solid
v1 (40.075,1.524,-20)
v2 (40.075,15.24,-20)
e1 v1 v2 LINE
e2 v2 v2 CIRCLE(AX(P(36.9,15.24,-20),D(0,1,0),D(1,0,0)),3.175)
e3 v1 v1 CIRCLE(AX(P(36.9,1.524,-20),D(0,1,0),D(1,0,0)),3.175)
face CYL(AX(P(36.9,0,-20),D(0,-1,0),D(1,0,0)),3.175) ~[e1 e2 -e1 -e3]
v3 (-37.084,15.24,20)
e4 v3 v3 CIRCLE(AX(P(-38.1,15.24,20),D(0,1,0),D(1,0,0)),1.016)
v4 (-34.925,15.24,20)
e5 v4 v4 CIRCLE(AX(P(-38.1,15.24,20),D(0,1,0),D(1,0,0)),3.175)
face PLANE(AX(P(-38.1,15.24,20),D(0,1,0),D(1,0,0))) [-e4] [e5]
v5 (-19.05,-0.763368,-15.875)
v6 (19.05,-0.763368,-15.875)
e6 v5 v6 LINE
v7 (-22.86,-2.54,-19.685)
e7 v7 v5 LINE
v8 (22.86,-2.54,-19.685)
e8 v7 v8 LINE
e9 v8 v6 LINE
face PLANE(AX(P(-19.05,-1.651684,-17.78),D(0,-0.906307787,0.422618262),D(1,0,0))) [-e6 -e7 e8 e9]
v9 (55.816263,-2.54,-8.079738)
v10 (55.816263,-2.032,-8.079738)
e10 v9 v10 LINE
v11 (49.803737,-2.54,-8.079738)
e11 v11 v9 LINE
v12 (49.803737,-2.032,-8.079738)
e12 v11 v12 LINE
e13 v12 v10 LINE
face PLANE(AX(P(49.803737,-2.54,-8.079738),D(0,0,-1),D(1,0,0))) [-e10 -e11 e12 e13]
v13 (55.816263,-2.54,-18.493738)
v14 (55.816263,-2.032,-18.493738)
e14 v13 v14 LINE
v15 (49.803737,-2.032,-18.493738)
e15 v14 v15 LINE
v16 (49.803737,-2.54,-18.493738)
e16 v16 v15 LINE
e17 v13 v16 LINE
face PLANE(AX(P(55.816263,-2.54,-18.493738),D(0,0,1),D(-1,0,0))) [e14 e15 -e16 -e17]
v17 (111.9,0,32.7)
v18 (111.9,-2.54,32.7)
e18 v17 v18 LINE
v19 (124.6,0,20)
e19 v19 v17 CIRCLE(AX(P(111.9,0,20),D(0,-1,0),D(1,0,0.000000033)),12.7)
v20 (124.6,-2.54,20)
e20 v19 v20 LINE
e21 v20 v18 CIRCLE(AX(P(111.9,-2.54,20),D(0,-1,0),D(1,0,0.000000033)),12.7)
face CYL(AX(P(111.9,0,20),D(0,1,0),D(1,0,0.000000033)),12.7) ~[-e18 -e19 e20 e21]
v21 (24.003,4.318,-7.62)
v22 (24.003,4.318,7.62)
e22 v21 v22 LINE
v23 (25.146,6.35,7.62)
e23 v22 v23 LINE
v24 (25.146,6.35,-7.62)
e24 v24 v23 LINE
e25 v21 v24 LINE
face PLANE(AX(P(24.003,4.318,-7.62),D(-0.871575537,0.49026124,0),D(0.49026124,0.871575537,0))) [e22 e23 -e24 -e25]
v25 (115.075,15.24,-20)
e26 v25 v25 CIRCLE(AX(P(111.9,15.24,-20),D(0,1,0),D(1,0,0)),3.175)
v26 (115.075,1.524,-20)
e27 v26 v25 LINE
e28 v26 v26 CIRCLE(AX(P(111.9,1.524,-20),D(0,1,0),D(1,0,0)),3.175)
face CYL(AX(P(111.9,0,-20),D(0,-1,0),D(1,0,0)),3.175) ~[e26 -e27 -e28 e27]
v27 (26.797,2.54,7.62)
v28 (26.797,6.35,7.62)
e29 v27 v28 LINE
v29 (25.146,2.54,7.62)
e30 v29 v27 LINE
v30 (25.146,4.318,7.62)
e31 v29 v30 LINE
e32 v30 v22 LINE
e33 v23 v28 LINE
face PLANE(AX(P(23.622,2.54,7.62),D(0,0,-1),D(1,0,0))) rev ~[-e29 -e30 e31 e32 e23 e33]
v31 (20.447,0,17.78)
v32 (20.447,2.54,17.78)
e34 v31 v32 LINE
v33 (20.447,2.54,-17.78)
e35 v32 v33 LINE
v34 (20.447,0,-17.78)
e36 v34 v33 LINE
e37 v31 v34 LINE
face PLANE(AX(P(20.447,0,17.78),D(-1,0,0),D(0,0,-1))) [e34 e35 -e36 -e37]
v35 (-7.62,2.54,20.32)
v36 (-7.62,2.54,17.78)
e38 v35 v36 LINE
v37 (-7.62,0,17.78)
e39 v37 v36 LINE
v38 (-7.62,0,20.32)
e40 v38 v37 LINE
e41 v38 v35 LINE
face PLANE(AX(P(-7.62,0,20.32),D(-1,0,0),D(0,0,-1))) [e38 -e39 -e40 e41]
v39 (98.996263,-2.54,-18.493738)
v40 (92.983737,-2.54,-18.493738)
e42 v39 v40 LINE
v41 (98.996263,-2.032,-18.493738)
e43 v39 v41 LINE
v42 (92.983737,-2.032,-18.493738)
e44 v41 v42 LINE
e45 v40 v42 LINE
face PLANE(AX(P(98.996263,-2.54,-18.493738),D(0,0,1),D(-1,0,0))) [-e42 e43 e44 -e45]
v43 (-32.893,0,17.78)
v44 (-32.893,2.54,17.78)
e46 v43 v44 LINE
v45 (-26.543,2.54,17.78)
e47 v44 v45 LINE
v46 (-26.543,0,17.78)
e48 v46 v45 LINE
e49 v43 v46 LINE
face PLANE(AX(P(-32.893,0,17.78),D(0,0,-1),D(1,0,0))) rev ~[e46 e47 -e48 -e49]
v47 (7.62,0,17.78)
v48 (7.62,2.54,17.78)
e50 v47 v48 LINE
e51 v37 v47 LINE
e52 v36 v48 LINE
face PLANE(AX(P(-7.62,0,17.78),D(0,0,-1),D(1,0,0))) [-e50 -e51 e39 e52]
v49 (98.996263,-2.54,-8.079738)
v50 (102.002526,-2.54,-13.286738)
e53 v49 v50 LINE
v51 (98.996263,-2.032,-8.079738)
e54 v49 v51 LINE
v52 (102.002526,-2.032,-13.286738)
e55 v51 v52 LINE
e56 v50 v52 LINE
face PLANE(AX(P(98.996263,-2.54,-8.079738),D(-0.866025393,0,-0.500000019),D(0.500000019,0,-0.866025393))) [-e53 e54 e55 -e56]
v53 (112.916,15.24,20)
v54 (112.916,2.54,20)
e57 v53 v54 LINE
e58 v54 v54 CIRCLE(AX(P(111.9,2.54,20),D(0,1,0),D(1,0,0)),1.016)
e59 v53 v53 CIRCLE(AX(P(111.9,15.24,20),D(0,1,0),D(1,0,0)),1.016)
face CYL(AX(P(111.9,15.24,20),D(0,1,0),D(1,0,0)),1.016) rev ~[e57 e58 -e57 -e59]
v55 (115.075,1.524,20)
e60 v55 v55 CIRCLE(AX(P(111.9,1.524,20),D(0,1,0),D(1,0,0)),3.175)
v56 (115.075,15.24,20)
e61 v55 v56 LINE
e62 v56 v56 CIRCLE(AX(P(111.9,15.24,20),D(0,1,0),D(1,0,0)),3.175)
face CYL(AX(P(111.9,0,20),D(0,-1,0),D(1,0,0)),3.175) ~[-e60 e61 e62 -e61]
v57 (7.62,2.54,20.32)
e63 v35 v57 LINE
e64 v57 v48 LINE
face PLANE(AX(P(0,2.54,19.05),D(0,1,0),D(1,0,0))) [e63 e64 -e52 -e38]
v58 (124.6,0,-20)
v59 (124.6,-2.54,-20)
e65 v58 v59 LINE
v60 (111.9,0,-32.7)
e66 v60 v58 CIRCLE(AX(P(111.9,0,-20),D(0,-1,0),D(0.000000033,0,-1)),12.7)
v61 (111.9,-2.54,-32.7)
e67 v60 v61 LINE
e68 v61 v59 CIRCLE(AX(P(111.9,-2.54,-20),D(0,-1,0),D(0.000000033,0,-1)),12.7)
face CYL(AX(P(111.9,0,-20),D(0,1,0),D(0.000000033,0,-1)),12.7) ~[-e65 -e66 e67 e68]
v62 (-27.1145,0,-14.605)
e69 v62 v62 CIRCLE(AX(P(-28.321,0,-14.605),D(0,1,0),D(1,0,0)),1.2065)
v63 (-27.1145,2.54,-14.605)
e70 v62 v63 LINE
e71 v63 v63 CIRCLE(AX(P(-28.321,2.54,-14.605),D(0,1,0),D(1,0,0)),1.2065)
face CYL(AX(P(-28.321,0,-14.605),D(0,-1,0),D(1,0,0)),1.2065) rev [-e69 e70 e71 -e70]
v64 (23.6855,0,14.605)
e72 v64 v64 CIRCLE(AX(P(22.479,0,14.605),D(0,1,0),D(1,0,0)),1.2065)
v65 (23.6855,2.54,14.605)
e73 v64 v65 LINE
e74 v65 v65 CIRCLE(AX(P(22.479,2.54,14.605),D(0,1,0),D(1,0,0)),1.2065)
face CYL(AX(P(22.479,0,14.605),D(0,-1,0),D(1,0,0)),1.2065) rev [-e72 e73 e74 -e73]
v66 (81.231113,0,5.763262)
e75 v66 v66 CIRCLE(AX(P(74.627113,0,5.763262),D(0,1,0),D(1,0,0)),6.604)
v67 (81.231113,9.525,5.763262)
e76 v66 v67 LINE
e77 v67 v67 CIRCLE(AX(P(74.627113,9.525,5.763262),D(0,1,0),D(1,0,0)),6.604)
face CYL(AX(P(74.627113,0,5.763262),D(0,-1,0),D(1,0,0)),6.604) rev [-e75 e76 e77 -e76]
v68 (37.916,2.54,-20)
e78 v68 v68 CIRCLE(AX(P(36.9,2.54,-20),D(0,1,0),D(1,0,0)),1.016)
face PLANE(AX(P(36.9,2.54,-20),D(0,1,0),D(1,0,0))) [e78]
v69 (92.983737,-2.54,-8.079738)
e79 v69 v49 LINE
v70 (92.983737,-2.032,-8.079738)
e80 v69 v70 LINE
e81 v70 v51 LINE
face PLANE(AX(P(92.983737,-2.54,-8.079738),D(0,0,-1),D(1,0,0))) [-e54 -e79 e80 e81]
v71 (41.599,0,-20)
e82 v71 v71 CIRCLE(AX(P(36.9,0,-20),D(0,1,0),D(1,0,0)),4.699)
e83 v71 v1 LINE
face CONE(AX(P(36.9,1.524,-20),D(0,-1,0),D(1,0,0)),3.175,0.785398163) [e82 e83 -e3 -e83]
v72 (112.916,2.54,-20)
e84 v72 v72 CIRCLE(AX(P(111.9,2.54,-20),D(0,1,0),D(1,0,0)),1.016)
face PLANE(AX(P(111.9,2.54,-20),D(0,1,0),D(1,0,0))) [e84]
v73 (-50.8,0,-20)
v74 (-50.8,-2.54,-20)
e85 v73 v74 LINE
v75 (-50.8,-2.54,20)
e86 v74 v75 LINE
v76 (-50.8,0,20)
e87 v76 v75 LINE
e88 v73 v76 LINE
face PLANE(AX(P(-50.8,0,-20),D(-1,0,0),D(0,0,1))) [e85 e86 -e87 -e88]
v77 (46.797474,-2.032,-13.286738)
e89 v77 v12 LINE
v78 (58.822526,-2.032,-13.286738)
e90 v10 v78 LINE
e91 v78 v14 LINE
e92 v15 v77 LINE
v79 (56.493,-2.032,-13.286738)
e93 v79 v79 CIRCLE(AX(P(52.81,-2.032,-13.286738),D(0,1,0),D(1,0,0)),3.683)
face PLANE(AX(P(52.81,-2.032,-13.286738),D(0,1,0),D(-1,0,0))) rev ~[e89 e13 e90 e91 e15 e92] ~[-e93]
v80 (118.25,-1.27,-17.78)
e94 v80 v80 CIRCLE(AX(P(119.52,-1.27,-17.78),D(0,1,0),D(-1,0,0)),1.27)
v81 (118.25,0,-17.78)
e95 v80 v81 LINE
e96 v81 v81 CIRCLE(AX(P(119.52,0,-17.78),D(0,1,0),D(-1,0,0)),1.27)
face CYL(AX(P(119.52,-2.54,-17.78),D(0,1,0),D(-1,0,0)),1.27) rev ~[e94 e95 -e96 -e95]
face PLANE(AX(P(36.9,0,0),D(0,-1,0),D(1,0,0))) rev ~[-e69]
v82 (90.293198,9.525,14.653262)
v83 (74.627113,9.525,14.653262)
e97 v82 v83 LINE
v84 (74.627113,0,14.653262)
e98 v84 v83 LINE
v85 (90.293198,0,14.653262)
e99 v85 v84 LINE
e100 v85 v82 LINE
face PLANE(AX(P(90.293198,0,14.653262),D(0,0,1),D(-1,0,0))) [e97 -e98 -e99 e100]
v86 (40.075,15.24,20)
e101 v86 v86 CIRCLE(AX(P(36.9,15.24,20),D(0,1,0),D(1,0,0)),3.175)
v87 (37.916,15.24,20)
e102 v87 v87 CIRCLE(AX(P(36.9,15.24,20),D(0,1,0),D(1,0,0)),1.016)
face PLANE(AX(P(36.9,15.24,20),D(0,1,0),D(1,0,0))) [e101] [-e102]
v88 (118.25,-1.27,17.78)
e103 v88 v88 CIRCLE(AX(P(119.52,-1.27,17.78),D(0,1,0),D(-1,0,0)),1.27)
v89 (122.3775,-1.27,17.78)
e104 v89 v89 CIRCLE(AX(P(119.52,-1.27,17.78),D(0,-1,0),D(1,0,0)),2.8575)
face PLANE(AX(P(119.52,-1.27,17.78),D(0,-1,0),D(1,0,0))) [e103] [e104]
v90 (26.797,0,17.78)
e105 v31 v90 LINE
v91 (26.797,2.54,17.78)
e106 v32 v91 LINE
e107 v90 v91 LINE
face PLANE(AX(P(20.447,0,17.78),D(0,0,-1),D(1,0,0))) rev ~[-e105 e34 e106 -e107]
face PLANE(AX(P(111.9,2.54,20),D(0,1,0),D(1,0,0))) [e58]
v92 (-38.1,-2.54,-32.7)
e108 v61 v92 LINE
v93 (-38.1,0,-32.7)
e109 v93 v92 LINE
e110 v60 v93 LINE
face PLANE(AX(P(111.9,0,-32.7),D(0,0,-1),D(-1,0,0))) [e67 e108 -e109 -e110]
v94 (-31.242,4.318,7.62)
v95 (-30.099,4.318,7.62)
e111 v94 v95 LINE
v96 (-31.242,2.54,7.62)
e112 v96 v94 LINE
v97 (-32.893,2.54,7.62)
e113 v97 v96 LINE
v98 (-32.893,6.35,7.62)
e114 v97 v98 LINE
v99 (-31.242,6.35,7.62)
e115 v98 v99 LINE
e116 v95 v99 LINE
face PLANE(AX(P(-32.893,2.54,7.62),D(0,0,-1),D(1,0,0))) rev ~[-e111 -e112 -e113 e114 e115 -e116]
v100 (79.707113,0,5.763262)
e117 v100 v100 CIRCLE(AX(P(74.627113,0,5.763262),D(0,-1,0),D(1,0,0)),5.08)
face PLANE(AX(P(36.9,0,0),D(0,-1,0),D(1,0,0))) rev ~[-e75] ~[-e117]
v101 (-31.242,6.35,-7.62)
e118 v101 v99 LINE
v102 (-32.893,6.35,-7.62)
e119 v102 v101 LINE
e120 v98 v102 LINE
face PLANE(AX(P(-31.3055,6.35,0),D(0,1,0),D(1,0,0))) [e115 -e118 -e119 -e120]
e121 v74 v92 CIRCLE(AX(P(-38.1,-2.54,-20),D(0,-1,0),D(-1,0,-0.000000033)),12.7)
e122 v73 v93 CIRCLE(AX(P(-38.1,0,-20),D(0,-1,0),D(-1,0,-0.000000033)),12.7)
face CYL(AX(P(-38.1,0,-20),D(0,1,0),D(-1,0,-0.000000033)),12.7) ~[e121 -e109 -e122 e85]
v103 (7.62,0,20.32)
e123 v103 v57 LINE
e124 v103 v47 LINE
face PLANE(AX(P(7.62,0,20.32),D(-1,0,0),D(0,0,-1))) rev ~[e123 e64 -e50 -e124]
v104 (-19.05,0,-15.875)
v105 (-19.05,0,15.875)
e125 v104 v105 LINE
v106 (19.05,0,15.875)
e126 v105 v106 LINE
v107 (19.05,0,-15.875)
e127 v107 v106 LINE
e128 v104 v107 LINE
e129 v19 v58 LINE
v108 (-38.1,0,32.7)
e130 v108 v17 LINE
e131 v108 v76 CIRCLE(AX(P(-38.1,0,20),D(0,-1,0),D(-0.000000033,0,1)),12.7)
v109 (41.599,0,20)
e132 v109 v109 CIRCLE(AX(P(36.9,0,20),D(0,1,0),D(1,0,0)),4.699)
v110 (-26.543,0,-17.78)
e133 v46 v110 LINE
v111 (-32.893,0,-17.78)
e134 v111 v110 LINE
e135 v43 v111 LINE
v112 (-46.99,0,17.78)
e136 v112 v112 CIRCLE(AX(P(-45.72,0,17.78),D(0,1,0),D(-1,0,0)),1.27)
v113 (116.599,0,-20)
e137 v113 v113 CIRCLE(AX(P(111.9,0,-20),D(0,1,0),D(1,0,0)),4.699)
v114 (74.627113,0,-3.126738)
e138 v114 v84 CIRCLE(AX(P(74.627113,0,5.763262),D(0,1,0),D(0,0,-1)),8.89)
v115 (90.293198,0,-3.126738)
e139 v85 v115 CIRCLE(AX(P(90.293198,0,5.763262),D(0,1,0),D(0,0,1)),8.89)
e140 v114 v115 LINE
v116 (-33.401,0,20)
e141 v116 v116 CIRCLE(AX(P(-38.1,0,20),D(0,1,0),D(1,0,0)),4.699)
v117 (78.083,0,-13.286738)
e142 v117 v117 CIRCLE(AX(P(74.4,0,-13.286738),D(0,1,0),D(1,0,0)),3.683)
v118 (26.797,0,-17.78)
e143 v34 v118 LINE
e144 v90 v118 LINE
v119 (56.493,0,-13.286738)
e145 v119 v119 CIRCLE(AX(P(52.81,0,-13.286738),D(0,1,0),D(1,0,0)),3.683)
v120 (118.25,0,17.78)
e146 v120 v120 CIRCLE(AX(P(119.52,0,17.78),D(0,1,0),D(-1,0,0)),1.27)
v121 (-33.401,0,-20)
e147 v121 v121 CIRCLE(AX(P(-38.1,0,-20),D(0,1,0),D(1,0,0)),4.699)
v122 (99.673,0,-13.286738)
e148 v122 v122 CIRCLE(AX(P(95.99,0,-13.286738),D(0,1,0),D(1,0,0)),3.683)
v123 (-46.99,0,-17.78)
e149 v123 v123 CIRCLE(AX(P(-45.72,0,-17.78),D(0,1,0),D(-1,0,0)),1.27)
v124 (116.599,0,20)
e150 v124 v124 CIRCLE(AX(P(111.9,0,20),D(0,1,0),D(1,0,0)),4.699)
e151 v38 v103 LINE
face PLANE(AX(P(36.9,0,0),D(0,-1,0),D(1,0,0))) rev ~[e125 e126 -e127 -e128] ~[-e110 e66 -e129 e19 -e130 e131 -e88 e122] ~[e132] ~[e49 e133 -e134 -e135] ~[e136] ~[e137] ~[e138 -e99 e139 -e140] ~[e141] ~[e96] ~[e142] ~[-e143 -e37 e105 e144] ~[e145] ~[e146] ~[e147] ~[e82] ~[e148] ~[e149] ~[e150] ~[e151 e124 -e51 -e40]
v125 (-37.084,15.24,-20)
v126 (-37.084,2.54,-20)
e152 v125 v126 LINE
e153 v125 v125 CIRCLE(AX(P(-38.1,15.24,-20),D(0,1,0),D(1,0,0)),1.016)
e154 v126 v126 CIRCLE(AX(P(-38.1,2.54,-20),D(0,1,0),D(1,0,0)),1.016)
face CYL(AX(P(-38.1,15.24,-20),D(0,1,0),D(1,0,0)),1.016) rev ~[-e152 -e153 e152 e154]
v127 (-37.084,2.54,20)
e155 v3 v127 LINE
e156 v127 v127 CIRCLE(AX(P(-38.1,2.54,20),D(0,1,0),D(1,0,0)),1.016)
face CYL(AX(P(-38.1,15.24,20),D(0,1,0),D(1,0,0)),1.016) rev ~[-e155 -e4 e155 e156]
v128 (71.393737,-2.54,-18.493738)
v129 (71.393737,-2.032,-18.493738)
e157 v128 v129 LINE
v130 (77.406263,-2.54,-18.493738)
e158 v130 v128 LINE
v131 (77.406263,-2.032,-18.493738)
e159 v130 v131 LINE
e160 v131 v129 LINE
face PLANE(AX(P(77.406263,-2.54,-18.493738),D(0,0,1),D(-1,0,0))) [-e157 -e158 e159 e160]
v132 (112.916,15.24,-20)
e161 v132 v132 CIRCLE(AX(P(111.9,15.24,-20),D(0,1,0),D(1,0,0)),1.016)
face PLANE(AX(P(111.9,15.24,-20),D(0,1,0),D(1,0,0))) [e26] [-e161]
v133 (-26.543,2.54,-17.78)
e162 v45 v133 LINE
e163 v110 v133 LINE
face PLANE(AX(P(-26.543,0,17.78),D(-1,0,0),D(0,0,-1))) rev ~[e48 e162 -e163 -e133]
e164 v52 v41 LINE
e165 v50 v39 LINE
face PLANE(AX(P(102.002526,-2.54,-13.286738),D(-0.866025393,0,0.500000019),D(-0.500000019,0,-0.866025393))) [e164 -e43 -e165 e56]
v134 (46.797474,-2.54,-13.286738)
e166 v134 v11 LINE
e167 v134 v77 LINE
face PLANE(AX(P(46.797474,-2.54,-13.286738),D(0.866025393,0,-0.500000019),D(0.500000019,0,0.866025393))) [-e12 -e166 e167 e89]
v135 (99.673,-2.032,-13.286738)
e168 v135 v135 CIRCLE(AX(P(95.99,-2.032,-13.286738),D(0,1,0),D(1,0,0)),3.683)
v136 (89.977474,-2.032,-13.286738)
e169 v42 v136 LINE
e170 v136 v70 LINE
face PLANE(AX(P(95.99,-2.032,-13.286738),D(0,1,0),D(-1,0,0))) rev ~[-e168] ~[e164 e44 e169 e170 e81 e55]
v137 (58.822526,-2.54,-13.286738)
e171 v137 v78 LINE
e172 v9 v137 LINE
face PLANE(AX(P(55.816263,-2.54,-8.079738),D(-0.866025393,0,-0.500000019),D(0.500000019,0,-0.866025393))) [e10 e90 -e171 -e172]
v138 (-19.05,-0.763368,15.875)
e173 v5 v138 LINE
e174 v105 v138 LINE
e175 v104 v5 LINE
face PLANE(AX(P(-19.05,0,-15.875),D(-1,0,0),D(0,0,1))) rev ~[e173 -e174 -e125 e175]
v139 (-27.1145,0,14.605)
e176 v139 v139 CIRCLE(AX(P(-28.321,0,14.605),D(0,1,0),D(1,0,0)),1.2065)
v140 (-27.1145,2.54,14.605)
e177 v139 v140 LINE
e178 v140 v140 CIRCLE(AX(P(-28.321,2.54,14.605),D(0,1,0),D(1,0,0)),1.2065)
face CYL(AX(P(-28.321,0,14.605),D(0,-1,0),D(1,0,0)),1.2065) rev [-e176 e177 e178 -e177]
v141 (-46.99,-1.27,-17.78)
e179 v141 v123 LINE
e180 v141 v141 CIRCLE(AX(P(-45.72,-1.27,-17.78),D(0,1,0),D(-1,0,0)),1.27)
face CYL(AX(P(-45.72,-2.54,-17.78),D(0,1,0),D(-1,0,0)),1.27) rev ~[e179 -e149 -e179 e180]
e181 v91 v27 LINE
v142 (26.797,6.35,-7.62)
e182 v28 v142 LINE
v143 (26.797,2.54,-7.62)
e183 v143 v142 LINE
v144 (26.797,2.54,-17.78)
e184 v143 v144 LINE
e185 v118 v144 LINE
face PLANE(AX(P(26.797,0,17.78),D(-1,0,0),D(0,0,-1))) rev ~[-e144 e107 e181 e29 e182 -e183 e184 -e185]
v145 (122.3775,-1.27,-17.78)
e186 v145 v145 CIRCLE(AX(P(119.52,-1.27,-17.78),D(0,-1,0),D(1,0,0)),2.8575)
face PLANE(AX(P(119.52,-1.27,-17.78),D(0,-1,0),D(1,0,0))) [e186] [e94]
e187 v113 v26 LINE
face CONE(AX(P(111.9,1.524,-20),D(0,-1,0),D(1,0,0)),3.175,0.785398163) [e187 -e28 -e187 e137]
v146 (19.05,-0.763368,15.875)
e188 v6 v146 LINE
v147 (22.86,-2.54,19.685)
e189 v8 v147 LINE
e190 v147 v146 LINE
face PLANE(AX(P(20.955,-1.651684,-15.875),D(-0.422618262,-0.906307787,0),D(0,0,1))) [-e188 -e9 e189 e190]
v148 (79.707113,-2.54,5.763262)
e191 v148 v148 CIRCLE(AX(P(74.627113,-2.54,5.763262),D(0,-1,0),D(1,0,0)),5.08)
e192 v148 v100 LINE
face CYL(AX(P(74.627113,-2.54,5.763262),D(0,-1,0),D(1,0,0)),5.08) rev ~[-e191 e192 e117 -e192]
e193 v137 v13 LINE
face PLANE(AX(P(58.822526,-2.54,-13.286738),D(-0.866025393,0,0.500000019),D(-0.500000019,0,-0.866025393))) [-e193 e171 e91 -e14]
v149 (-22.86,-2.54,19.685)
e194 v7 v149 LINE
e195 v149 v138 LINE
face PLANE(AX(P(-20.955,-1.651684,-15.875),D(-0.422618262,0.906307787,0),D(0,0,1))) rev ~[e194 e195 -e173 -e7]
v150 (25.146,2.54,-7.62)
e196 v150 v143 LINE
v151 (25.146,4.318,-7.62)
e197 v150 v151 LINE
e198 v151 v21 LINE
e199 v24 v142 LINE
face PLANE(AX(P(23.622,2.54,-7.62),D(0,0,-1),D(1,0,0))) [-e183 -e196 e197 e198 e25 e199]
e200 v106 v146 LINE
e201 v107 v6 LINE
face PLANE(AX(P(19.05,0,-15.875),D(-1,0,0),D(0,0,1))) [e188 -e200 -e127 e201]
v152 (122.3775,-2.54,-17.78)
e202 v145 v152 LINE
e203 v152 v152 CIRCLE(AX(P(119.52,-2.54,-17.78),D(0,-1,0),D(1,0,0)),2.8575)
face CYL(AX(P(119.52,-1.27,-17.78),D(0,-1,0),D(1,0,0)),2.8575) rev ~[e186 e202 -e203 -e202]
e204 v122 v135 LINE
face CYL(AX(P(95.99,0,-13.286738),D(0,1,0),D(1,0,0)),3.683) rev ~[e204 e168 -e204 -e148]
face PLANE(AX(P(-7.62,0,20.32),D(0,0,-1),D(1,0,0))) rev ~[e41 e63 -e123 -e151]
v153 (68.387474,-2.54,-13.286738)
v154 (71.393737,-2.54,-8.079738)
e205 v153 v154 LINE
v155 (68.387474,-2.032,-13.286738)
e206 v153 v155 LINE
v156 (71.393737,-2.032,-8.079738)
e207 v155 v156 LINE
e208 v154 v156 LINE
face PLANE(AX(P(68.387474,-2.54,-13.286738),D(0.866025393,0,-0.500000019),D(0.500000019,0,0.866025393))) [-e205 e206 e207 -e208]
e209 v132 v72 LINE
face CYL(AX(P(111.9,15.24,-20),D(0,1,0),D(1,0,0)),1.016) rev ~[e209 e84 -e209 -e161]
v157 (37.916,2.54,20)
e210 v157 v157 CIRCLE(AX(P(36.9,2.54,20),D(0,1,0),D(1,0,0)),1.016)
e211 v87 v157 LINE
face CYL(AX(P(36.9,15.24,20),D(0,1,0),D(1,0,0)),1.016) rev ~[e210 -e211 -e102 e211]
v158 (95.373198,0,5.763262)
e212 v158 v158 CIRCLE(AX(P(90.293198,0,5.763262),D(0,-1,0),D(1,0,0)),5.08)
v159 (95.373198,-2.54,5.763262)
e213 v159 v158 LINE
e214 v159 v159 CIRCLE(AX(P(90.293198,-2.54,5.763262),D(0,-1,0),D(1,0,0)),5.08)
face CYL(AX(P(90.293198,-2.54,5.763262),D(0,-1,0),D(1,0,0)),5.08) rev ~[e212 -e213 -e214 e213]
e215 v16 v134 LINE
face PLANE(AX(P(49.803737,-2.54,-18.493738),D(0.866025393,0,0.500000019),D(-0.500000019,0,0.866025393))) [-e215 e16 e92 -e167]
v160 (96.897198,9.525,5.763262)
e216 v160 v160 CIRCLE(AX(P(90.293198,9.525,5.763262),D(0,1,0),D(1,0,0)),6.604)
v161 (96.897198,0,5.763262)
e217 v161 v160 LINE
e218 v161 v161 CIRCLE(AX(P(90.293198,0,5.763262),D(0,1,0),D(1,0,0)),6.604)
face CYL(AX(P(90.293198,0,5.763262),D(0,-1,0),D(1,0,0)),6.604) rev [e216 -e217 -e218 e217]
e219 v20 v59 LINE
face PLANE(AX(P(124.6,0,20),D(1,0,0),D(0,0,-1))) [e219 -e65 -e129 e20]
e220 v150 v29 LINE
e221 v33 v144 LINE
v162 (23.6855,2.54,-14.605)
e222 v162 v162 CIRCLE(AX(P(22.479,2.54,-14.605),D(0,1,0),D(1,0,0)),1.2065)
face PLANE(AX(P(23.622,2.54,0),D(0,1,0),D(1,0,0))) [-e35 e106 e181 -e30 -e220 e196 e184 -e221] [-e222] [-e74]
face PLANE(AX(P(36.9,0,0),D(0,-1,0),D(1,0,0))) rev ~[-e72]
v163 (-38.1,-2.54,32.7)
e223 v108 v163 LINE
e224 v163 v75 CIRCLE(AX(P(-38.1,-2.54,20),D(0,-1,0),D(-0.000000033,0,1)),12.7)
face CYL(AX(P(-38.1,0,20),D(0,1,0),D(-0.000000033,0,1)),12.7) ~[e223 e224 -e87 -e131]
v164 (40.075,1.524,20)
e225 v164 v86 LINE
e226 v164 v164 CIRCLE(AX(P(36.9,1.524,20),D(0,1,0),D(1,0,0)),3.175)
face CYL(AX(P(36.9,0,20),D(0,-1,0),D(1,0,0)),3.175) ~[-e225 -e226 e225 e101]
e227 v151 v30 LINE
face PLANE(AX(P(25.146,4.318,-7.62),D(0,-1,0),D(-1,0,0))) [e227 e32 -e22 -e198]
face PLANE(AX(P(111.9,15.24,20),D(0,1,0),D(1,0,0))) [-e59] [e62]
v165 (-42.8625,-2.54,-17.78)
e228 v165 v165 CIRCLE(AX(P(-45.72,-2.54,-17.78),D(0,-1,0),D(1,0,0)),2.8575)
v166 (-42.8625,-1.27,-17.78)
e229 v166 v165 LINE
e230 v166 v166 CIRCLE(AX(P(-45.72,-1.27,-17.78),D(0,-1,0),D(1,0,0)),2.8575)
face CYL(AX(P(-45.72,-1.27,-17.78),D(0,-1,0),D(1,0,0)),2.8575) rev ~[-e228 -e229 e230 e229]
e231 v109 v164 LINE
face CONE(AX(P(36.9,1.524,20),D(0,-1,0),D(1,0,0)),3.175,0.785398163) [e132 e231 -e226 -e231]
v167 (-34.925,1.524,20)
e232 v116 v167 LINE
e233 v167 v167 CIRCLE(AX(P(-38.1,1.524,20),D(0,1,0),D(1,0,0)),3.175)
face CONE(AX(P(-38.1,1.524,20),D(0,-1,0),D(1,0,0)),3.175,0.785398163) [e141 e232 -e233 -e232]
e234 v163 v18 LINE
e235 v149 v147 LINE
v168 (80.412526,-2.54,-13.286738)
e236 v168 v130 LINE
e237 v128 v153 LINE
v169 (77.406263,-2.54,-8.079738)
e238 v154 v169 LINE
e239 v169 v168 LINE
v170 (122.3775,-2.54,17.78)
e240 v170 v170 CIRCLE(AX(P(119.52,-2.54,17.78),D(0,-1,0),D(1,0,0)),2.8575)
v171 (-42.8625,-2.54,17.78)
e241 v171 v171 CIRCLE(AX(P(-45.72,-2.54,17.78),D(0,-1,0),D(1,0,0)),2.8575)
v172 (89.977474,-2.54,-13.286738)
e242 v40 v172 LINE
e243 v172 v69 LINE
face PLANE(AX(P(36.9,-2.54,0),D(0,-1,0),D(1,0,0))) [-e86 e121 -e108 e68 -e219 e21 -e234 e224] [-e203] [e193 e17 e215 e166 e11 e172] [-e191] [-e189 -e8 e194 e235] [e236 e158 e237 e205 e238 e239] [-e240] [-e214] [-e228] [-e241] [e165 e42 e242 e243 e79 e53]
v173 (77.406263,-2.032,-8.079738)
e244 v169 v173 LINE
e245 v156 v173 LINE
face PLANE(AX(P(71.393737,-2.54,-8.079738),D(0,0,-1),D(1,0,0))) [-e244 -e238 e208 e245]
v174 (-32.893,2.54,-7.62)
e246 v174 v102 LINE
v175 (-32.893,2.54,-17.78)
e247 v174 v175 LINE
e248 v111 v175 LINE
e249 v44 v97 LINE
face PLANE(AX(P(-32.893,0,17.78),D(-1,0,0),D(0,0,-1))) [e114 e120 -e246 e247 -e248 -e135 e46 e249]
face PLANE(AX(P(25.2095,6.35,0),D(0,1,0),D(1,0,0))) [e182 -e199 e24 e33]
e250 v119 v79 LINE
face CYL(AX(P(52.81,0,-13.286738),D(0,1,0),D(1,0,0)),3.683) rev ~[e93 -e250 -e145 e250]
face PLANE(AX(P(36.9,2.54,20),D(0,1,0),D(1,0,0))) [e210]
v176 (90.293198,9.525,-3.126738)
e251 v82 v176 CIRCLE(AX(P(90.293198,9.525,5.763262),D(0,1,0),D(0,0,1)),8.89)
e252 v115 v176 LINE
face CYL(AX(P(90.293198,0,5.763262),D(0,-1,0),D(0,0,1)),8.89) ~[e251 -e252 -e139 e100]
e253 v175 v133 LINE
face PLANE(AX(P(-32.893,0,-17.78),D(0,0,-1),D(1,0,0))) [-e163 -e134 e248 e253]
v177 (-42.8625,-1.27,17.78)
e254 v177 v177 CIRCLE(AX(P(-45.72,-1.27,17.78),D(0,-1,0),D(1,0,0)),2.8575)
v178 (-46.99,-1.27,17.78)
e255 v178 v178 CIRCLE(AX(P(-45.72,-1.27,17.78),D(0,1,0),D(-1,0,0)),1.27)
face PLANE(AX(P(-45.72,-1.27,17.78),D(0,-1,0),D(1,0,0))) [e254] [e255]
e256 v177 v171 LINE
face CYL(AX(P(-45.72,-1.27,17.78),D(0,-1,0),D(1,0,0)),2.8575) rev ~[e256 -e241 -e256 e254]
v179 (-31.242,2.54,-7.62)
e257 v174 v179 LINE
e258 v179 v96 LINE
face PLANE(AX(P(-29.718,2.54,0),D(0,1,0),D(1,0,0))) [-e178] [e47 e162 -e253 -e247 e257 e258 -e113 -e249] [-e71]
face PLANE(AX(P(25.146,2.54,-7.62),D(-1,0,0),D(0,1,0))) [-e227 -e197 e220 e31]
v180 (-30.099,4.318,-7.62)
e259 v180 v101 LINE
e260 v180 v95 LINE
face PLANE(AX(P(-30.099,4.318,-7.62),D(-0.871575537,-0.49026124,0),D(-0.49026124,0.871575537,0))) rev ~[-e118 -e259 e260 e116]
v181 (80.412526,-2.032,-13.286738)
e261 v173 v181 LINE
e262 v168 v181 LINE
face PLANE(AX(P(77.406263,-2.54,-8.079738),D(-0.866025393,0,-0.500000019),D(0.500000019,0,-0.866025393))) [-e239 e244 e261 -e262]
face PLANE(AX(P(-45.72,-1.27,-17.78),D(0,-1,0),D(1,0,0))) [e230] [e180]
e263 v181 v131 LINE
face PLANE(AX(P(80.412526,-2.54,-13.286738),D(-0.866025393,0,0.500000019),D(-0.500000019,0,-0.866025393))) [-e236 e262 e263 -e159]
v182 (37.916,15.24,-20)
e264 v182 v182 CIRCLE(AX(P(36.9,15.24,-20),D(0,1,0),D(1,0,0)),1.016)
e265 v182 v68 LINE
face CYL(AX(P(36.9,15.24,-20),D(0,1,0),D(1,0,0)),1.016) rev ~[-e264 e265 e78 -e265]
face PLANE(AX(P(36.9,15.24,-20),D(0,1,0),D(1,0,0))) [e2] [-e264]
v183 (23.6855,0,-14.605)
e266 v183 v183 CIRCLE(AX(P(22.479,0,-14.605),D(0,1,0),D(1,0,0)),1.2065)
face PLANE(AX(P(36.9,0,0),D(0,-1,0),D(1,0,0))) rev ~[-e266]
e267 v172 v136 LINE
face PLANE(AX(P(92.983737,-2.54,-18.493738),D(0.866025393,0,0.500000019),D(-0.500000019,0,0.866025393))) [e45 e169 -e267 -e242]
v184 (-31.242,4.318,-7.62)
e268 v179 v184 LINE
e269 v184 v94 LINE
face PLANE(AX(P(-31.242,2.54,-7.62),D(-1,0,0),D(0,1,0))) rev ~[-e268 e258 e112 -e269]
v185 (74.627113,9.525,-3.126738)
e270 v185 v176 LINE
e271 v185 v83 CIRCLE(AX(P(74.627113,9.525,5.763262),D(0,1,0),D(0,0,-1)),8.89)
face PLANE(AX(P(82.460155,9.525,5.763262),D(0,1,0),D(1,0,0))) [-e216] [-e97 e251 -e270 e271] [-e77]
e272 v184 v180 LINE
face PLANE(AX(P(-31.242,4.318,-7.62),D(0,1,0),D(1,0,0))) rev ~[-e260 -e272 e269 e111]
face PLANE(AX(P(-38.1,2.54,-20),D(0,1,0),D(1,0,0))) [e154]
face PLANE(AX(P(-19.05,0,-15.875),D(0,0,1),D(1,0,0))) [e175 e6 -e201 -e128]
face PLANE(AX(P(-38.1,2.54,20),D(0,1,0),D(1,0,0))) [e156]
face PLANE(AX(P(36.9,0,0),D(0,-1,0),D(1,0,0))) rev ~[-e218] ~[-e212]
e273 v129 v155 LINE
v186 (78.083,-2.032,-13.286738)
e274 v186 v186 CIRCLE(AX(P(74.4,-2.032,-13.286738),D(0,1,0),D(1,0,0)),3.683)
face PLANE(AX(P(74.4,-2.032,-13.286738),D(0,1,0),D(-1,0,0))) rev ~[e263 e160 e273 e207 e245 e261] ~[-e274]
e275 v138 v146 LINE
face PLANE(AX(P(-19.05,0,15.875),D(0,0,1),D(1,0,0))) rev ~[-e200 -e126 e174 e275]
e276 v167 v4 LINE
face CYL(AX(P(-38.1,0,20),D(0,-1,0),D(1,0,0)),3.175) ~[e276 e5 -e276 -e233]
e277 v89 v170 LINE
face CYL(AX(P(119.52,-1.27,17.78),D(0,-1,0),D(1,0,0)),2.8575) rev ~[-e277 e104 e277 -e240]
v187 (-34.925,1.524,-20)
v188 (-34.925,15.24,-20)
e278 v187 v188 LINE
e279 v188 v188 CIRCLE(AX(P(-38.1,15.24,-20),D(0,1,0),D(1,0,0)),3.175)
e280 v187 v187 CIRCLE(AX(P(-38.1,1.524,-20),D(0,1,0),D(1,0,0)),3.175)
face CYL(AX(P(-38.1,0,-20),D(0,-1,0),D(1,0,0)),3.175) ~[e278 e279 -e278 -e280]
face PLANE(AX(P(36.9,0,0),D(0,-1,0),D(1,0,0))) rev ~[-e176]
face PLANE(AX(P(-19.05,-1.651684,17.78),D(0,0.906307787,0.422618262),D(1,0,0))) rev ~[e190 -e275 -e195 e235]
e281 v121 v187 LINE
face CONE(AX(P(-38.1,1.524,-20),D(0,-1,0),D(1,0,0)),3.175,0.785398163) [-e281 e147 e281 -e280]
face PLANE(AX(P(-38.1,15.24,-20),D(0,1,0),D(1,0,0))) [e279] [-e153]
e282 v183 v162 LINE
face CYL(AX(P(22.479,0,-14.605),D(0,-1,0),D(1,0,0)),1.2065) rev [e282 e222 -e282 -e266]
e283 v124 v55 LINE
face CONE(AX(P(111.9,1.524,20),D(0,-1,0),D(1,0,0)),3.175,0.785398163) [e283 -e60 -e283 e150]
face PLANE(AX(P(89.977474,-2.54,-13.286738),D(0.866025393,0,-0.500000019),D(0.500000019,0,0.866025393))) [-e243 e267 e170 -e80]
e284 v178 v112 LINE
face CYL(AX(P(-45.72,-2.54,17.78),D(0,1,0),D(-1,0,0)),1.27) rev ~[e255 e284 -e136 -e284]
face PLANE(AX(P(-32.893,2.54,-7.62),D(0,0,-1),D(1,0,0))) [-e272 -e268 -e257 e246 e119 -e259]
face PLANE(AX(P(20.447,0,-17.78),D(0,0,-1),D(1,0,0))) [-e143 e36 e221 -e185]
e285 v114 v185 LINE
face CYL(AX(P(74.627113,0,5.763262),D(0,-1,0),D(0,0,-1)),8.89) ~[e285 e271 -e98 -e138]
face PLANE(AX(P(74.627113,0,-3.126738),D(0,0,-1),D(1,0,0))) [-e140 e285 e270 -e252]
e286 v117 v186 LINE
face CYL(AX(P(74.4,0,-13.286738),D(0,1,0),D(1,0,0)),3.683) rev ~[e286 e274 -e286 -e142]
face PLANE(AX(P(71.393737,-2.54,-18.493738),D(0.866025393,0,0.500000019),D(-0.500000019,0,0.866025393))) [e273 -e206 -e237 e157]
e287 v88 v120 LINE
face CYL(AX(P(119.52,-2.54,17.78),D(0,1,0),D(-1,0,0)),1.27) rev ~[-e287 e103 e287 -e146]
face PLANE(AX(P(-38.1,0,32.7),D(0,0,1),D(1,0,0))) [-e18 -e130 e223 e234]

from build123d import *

# Parameters (mm, degrees)
SKETCH003_W      = 38.1
SKETCH003_H      = 31.75
PAD002_DEPTH     = 2.54
SKETCH004_R      = 3.175
PAD003_DEPTH     = 15.24
SKETCH005_R      = 5.08
POCKET001_DEPTH  = 17.781
SKETCH006_R      = 6.604
PAD004_DEPTH     = 9.525
SKETCH007_W      = 6.35
SKETCH007_H      = 35.56
SKETCH007_R      = 1.2065
PAD005_DEPTH     = 2.54
SKETCH008_W      = 3.175
SKETCH008_H      = 15.24
PAD006_DEPTH     = 3.81
POCKET002_DEPTH  = 15.24
SKETCH010_W      = 15.24
SKETCH010_H      = 2.54
PAD007_DEPTH     = 2.54
CHAMFER_ANGLE    = 25
CHAMFER_SIZE     = 3.81
SKETCH011_R      = 3.683
POCKET003_DEPTH  = 2.541
POCKET004_DEPTH  = 0.508
HOLE_D           = 2.54
HOLE_CBORE_D     = 5.715
HOLE_CBORE_DEPTH = 1.27
SKETCH014_R      = 1.016
POCKET005_DEPTH  = 12.7
CHAMFER001_SIZE  = 1.524


with BuildPart() as part:
    # Sketch003 → Pad002 (new body)
    with BuildSketch(Plane.XZ):
        with BuildLine():
            ThreePointArc((-50.8, -20), (-47.080256, -28.980256), (-38.1, -32.7))
            Line((111.9, -32.7), (-38.1, -32.7))
            ThreePointArc((111.9, -32.7), (120.880256, -28.980256), (124.6, -20))
            Line((124.6, 20), (124.6, -20))
            ThreePointArc((124.6, 20), (120.880256, 28.980256), (111.9, 32.7))
            Line((-38.1, 32.7), (111.9, 32.7))
            ThreePointArc((-38.1, 32.7), (-47.080256, 28.980256), (-50.8, 20))
            Line((-50.8, -20), (-50.8, 20))
        make_face()
        Rectangle(SKETCH003_W, SKETCH003_H, mode=Mode.SUBTRACT)
    extrude(amount=PAD002_DEPTH)

    # Sketch004 (on Face13 of Pad002) → Pad003 (join)
    with BuildSketch(Plane(origin=(0, 0, 0), x_dir=(1, 0, 0), z_dir=(0, 1, 0))):
        with Locations((111.9, -20)):
            Circle(SKETCH004_R)
        with Locations((111.9, 20)):
            Circle(SKETCH004_R)
        with Locations((-38.1, -20)):
            Circle(SKETCH004_R)
        with Locations((-38.1, 20)):
            Circle(SKETCH004_R)
        with Locations((36.9, 20)):
            Circle(SKETCH004_R)
        with Locations((36.9, -20)):
            Circle(SKETCH004_R)
    extrude(amount=PAD003_DEPTH)

    # Sketch005 (on Face5 of Pad003) → Pocket001 (cut, through all)
    with BuildSketch(Plane.XZ.offset(2.54)):
        with Locations((90.293198, 5.763262)):
            Circle(SKETCH005_R)
        with Locations((74.627113, 5.763262)):
            Circle(SKETCH005_R)
    extrude(amount=-POCKET001_DEPTH, mode=Mode.SUBTRACT)

    # Sketch006 (on Face4 of Pocket001) → Pad004 (join)
    with BuildSketch(Plane(origin=(0, 0, 0), x_dir=(1, 0, 0), z_dir=(0, 1, 0))):
        with BuildLine():
            ThreePointArc((74.627113, 3.126738), (65.737113, -5.763262), (74.627113, -14.653262))
            Line((90.293198, -14.653262), (74.627113, -14.653262))
            ThreePointArc((90.293198, -14.653262), (99.183198, -5.763262), (90.293198, 3.126738))
            Line((74.627113, 3.126738), (90.293198, 3.126738))
        make_face()
        with Locations((90.293198, -5.763262)):
            Circle(SKETCH006_R, mode=Mode.SUBTRACT)
        with Locations((74.627113, -5.763262)):
            Circle(SKETCH006_R, mode=Mode.SUBTRACT)
    extrude(amount=PAD004_DEPTH)

    # Sketch007 (on Face4 of Pad004) → Pad005 (join)
    with BuildSketch(Plane(origin=(0, 0, 0), x_dir=(1, 0, 0), z_dir=(0, 1, 0))):
        with Locations((23.622, 0)):
            Rectangle(SKETCH007_W, SKETCH007_H)
        with Locations((22.479, 14.605)):
            Circle(SKETCH007_R, mode=Mode.SUBTRACT)
        with Locations((22.479, -14.605)):
            Circle(SKETCH007_R, mode=Mode.SUBTRACT)
        with Locations((-29.718, 0)):
            Rectangle(SKETCH007_W, SKETCH007_H)
        with Locations((-28.321, -14.605)):
            Circle(SKETCH007_R, mode=Mode.SUBTRACT)
        with Locations((-28.321, 14.605)):
            Circle(SKETCH007_R, mode=Mode.SUBTRACT)
    extrude(amount=PAD005_DEPTH)

    # Sketch008 (on Face37 of Pad005) → Pad006 (join)
    with BuildSketch(Plane(origin=(0, 2.54, 0), x_dir=(1, 0, 0), z_dir=(0, 1, 0))):
        with Locations((25.2095, 0)):
            Rectangle(SKETCH008_W, SKETCH008_H)
        with Locations((-31.3055, 0)):
            Rectangle(SKETCH008_W, SKETCH008_H)
    extrude(amount=PAD006_DEPTH)

    # Sketch009 (on Face54 of Pad006) → Pocket002 (cut)
    with BuildSketch(Plane(origin=(0, 0, -7.62), x_dir=(1, 0, 0), z_dir=(0, 0, -1))):
        Polygon((23.622, -2.54), (25.146, -2.54), (25.146, -4.318), (24.003, -4.318), (25.146, -6.35), (23.622, -6.35), align=None)
        Polygon((-29.718, -2.54), (-31.242, -2.54), (-31.242, -4.318), (-30.099, -4.318), (-31.242, -6.35), (-29.718, -6.35), align=None)
    extrude(amount=-POCKET002_DEPTH, mode=Mode.SUBTRACT)

    # Sketch010 (on Face4 of Pocket002) → Pad007 (join)
    with BuildSketch(Plane(origin=(0, 0, 0), x_dir=(1, 0, 0), z_dir=(0, 1, 0))):
        with Locations((0, -19.05)):
            Rectangle(SKETCH010_W, SKETCH010_H)
    extrude(amount=PAD007_DEPTH)

    # Chamfer
    chamfer_edges = [part.edges().sort_by_distance(p)[0] for p in [
        (0, -2.54, -15.875),
        (19.05, -2.54, 0),
        (0, -2.54, 15.875),
        (-19.05, -2.54, 0),
    ]]
    chamfer_side = part.faces().sort_by_distance((40.639586, -2.54, -0.093816))[0]
    chamfer(chamfer_edges, length=CHAMFER_SIZE, angle=CHAMFER_ANGLE, reference=chamfer_side)

    # Sketch011 (on Face20 of Chamfer) → Pocket003 (cut, through all)
    with BuildSketch(Plane(origin=(0, 0, 0), x_dir=(1, 0, 0), z_dir=(0, 1, 0))):
        with Locations((95.99, 13.286738)):
            Circle(SKETCH011_R)
        with Locations((74.4, 13.286738)):
            Circle(SKETCH011_R)
        with Locations((52.81, 13.286738)):
            Circle(SKETCH011_R)
    extrude(amount=-POCKET003_DEPTH, mode=Mode.SUBTRACT)

    # Sketch012 (on Face1 of Pocket003) → Pocket004 (cut)
    with BuildSketch(Plane.XZ.offset(2.54)):
        Polygon((49.803737, -8.079738), (55.816263, -8.079738), (58.822526, -13.286738), (55.816263, -18.493738), (49.803737, -18.493738), (46.797474, -13.286738), align=None)
        Polygon((71.393737, -8.079738), (77.406263, -8.079738), (80.412526, -13.286738), (77.406263, -18.493738), (71.393737, -18.493738), (68.387474, -13.286738), align=None)
        Polygon((92.983737, -8.079738), (98.996263, -8.079738), (102.002526, -13.286738), (98.996263, -18.493738), (92.983737, -18.493738), (89.977474, -13.286738), align=None)
    extrude(amount=-POCKET004_DEPTH, mode=Mode.SUBTRACT)

    # Hole (through all)
    with Locations(Plane.XZ.offset(2.54)):
        with Locations((119.52, 17.78), (119.52, -17.78), (-45.72, -17.78), (-45.72, 17.78)):
            CounterBoreHole(HOLE_D / 2, HOLE_CBORE_D / 2, HOLE_CBORE_DEPTH)

    # Sketch014 (on Face90 of Hole) → Pocket005 (cut)
    with BuildSketch(Plane(origin=(0, 15.24, 0), x_dir=(1, 0, 0), z_dir=(0, 1, 0))):
        with Locations((-38.1, 20)):
            Circle(SKETCH014_R)
        with Locations((-38.1, -20)):
            Circle(SKETCH014_R)
        with Locations((36.9, -20)):
            Circle(SKETCH014_R)
        with Locations((36.9, 20)):
            Circle(SKETCH014_R)
        with Locations((111.9, 20)):
            Circle(SKETCH014_R)
        with Locations((111.9, -20)):
            Circle(SKETCH014_R)
    extrude(amount=-POCKET005_DEPTH, mode=Mode.SUBTRACT)

    # Chamfer001
    chamfer001_edges = [part.edges().sort_by_distance(p)[0] for p in [
        (-41.275, 0, -20),
        (-41.275, 0, 20),
        (33.725, 0, 20),
        (33.725, 0, -20),
        (108.725, 0, 20),
        (108.725, 0, -20),
    ]]
    chamfer(chamfer001_edges, length=CHAMFER001_SIZE)


solid = part.part
